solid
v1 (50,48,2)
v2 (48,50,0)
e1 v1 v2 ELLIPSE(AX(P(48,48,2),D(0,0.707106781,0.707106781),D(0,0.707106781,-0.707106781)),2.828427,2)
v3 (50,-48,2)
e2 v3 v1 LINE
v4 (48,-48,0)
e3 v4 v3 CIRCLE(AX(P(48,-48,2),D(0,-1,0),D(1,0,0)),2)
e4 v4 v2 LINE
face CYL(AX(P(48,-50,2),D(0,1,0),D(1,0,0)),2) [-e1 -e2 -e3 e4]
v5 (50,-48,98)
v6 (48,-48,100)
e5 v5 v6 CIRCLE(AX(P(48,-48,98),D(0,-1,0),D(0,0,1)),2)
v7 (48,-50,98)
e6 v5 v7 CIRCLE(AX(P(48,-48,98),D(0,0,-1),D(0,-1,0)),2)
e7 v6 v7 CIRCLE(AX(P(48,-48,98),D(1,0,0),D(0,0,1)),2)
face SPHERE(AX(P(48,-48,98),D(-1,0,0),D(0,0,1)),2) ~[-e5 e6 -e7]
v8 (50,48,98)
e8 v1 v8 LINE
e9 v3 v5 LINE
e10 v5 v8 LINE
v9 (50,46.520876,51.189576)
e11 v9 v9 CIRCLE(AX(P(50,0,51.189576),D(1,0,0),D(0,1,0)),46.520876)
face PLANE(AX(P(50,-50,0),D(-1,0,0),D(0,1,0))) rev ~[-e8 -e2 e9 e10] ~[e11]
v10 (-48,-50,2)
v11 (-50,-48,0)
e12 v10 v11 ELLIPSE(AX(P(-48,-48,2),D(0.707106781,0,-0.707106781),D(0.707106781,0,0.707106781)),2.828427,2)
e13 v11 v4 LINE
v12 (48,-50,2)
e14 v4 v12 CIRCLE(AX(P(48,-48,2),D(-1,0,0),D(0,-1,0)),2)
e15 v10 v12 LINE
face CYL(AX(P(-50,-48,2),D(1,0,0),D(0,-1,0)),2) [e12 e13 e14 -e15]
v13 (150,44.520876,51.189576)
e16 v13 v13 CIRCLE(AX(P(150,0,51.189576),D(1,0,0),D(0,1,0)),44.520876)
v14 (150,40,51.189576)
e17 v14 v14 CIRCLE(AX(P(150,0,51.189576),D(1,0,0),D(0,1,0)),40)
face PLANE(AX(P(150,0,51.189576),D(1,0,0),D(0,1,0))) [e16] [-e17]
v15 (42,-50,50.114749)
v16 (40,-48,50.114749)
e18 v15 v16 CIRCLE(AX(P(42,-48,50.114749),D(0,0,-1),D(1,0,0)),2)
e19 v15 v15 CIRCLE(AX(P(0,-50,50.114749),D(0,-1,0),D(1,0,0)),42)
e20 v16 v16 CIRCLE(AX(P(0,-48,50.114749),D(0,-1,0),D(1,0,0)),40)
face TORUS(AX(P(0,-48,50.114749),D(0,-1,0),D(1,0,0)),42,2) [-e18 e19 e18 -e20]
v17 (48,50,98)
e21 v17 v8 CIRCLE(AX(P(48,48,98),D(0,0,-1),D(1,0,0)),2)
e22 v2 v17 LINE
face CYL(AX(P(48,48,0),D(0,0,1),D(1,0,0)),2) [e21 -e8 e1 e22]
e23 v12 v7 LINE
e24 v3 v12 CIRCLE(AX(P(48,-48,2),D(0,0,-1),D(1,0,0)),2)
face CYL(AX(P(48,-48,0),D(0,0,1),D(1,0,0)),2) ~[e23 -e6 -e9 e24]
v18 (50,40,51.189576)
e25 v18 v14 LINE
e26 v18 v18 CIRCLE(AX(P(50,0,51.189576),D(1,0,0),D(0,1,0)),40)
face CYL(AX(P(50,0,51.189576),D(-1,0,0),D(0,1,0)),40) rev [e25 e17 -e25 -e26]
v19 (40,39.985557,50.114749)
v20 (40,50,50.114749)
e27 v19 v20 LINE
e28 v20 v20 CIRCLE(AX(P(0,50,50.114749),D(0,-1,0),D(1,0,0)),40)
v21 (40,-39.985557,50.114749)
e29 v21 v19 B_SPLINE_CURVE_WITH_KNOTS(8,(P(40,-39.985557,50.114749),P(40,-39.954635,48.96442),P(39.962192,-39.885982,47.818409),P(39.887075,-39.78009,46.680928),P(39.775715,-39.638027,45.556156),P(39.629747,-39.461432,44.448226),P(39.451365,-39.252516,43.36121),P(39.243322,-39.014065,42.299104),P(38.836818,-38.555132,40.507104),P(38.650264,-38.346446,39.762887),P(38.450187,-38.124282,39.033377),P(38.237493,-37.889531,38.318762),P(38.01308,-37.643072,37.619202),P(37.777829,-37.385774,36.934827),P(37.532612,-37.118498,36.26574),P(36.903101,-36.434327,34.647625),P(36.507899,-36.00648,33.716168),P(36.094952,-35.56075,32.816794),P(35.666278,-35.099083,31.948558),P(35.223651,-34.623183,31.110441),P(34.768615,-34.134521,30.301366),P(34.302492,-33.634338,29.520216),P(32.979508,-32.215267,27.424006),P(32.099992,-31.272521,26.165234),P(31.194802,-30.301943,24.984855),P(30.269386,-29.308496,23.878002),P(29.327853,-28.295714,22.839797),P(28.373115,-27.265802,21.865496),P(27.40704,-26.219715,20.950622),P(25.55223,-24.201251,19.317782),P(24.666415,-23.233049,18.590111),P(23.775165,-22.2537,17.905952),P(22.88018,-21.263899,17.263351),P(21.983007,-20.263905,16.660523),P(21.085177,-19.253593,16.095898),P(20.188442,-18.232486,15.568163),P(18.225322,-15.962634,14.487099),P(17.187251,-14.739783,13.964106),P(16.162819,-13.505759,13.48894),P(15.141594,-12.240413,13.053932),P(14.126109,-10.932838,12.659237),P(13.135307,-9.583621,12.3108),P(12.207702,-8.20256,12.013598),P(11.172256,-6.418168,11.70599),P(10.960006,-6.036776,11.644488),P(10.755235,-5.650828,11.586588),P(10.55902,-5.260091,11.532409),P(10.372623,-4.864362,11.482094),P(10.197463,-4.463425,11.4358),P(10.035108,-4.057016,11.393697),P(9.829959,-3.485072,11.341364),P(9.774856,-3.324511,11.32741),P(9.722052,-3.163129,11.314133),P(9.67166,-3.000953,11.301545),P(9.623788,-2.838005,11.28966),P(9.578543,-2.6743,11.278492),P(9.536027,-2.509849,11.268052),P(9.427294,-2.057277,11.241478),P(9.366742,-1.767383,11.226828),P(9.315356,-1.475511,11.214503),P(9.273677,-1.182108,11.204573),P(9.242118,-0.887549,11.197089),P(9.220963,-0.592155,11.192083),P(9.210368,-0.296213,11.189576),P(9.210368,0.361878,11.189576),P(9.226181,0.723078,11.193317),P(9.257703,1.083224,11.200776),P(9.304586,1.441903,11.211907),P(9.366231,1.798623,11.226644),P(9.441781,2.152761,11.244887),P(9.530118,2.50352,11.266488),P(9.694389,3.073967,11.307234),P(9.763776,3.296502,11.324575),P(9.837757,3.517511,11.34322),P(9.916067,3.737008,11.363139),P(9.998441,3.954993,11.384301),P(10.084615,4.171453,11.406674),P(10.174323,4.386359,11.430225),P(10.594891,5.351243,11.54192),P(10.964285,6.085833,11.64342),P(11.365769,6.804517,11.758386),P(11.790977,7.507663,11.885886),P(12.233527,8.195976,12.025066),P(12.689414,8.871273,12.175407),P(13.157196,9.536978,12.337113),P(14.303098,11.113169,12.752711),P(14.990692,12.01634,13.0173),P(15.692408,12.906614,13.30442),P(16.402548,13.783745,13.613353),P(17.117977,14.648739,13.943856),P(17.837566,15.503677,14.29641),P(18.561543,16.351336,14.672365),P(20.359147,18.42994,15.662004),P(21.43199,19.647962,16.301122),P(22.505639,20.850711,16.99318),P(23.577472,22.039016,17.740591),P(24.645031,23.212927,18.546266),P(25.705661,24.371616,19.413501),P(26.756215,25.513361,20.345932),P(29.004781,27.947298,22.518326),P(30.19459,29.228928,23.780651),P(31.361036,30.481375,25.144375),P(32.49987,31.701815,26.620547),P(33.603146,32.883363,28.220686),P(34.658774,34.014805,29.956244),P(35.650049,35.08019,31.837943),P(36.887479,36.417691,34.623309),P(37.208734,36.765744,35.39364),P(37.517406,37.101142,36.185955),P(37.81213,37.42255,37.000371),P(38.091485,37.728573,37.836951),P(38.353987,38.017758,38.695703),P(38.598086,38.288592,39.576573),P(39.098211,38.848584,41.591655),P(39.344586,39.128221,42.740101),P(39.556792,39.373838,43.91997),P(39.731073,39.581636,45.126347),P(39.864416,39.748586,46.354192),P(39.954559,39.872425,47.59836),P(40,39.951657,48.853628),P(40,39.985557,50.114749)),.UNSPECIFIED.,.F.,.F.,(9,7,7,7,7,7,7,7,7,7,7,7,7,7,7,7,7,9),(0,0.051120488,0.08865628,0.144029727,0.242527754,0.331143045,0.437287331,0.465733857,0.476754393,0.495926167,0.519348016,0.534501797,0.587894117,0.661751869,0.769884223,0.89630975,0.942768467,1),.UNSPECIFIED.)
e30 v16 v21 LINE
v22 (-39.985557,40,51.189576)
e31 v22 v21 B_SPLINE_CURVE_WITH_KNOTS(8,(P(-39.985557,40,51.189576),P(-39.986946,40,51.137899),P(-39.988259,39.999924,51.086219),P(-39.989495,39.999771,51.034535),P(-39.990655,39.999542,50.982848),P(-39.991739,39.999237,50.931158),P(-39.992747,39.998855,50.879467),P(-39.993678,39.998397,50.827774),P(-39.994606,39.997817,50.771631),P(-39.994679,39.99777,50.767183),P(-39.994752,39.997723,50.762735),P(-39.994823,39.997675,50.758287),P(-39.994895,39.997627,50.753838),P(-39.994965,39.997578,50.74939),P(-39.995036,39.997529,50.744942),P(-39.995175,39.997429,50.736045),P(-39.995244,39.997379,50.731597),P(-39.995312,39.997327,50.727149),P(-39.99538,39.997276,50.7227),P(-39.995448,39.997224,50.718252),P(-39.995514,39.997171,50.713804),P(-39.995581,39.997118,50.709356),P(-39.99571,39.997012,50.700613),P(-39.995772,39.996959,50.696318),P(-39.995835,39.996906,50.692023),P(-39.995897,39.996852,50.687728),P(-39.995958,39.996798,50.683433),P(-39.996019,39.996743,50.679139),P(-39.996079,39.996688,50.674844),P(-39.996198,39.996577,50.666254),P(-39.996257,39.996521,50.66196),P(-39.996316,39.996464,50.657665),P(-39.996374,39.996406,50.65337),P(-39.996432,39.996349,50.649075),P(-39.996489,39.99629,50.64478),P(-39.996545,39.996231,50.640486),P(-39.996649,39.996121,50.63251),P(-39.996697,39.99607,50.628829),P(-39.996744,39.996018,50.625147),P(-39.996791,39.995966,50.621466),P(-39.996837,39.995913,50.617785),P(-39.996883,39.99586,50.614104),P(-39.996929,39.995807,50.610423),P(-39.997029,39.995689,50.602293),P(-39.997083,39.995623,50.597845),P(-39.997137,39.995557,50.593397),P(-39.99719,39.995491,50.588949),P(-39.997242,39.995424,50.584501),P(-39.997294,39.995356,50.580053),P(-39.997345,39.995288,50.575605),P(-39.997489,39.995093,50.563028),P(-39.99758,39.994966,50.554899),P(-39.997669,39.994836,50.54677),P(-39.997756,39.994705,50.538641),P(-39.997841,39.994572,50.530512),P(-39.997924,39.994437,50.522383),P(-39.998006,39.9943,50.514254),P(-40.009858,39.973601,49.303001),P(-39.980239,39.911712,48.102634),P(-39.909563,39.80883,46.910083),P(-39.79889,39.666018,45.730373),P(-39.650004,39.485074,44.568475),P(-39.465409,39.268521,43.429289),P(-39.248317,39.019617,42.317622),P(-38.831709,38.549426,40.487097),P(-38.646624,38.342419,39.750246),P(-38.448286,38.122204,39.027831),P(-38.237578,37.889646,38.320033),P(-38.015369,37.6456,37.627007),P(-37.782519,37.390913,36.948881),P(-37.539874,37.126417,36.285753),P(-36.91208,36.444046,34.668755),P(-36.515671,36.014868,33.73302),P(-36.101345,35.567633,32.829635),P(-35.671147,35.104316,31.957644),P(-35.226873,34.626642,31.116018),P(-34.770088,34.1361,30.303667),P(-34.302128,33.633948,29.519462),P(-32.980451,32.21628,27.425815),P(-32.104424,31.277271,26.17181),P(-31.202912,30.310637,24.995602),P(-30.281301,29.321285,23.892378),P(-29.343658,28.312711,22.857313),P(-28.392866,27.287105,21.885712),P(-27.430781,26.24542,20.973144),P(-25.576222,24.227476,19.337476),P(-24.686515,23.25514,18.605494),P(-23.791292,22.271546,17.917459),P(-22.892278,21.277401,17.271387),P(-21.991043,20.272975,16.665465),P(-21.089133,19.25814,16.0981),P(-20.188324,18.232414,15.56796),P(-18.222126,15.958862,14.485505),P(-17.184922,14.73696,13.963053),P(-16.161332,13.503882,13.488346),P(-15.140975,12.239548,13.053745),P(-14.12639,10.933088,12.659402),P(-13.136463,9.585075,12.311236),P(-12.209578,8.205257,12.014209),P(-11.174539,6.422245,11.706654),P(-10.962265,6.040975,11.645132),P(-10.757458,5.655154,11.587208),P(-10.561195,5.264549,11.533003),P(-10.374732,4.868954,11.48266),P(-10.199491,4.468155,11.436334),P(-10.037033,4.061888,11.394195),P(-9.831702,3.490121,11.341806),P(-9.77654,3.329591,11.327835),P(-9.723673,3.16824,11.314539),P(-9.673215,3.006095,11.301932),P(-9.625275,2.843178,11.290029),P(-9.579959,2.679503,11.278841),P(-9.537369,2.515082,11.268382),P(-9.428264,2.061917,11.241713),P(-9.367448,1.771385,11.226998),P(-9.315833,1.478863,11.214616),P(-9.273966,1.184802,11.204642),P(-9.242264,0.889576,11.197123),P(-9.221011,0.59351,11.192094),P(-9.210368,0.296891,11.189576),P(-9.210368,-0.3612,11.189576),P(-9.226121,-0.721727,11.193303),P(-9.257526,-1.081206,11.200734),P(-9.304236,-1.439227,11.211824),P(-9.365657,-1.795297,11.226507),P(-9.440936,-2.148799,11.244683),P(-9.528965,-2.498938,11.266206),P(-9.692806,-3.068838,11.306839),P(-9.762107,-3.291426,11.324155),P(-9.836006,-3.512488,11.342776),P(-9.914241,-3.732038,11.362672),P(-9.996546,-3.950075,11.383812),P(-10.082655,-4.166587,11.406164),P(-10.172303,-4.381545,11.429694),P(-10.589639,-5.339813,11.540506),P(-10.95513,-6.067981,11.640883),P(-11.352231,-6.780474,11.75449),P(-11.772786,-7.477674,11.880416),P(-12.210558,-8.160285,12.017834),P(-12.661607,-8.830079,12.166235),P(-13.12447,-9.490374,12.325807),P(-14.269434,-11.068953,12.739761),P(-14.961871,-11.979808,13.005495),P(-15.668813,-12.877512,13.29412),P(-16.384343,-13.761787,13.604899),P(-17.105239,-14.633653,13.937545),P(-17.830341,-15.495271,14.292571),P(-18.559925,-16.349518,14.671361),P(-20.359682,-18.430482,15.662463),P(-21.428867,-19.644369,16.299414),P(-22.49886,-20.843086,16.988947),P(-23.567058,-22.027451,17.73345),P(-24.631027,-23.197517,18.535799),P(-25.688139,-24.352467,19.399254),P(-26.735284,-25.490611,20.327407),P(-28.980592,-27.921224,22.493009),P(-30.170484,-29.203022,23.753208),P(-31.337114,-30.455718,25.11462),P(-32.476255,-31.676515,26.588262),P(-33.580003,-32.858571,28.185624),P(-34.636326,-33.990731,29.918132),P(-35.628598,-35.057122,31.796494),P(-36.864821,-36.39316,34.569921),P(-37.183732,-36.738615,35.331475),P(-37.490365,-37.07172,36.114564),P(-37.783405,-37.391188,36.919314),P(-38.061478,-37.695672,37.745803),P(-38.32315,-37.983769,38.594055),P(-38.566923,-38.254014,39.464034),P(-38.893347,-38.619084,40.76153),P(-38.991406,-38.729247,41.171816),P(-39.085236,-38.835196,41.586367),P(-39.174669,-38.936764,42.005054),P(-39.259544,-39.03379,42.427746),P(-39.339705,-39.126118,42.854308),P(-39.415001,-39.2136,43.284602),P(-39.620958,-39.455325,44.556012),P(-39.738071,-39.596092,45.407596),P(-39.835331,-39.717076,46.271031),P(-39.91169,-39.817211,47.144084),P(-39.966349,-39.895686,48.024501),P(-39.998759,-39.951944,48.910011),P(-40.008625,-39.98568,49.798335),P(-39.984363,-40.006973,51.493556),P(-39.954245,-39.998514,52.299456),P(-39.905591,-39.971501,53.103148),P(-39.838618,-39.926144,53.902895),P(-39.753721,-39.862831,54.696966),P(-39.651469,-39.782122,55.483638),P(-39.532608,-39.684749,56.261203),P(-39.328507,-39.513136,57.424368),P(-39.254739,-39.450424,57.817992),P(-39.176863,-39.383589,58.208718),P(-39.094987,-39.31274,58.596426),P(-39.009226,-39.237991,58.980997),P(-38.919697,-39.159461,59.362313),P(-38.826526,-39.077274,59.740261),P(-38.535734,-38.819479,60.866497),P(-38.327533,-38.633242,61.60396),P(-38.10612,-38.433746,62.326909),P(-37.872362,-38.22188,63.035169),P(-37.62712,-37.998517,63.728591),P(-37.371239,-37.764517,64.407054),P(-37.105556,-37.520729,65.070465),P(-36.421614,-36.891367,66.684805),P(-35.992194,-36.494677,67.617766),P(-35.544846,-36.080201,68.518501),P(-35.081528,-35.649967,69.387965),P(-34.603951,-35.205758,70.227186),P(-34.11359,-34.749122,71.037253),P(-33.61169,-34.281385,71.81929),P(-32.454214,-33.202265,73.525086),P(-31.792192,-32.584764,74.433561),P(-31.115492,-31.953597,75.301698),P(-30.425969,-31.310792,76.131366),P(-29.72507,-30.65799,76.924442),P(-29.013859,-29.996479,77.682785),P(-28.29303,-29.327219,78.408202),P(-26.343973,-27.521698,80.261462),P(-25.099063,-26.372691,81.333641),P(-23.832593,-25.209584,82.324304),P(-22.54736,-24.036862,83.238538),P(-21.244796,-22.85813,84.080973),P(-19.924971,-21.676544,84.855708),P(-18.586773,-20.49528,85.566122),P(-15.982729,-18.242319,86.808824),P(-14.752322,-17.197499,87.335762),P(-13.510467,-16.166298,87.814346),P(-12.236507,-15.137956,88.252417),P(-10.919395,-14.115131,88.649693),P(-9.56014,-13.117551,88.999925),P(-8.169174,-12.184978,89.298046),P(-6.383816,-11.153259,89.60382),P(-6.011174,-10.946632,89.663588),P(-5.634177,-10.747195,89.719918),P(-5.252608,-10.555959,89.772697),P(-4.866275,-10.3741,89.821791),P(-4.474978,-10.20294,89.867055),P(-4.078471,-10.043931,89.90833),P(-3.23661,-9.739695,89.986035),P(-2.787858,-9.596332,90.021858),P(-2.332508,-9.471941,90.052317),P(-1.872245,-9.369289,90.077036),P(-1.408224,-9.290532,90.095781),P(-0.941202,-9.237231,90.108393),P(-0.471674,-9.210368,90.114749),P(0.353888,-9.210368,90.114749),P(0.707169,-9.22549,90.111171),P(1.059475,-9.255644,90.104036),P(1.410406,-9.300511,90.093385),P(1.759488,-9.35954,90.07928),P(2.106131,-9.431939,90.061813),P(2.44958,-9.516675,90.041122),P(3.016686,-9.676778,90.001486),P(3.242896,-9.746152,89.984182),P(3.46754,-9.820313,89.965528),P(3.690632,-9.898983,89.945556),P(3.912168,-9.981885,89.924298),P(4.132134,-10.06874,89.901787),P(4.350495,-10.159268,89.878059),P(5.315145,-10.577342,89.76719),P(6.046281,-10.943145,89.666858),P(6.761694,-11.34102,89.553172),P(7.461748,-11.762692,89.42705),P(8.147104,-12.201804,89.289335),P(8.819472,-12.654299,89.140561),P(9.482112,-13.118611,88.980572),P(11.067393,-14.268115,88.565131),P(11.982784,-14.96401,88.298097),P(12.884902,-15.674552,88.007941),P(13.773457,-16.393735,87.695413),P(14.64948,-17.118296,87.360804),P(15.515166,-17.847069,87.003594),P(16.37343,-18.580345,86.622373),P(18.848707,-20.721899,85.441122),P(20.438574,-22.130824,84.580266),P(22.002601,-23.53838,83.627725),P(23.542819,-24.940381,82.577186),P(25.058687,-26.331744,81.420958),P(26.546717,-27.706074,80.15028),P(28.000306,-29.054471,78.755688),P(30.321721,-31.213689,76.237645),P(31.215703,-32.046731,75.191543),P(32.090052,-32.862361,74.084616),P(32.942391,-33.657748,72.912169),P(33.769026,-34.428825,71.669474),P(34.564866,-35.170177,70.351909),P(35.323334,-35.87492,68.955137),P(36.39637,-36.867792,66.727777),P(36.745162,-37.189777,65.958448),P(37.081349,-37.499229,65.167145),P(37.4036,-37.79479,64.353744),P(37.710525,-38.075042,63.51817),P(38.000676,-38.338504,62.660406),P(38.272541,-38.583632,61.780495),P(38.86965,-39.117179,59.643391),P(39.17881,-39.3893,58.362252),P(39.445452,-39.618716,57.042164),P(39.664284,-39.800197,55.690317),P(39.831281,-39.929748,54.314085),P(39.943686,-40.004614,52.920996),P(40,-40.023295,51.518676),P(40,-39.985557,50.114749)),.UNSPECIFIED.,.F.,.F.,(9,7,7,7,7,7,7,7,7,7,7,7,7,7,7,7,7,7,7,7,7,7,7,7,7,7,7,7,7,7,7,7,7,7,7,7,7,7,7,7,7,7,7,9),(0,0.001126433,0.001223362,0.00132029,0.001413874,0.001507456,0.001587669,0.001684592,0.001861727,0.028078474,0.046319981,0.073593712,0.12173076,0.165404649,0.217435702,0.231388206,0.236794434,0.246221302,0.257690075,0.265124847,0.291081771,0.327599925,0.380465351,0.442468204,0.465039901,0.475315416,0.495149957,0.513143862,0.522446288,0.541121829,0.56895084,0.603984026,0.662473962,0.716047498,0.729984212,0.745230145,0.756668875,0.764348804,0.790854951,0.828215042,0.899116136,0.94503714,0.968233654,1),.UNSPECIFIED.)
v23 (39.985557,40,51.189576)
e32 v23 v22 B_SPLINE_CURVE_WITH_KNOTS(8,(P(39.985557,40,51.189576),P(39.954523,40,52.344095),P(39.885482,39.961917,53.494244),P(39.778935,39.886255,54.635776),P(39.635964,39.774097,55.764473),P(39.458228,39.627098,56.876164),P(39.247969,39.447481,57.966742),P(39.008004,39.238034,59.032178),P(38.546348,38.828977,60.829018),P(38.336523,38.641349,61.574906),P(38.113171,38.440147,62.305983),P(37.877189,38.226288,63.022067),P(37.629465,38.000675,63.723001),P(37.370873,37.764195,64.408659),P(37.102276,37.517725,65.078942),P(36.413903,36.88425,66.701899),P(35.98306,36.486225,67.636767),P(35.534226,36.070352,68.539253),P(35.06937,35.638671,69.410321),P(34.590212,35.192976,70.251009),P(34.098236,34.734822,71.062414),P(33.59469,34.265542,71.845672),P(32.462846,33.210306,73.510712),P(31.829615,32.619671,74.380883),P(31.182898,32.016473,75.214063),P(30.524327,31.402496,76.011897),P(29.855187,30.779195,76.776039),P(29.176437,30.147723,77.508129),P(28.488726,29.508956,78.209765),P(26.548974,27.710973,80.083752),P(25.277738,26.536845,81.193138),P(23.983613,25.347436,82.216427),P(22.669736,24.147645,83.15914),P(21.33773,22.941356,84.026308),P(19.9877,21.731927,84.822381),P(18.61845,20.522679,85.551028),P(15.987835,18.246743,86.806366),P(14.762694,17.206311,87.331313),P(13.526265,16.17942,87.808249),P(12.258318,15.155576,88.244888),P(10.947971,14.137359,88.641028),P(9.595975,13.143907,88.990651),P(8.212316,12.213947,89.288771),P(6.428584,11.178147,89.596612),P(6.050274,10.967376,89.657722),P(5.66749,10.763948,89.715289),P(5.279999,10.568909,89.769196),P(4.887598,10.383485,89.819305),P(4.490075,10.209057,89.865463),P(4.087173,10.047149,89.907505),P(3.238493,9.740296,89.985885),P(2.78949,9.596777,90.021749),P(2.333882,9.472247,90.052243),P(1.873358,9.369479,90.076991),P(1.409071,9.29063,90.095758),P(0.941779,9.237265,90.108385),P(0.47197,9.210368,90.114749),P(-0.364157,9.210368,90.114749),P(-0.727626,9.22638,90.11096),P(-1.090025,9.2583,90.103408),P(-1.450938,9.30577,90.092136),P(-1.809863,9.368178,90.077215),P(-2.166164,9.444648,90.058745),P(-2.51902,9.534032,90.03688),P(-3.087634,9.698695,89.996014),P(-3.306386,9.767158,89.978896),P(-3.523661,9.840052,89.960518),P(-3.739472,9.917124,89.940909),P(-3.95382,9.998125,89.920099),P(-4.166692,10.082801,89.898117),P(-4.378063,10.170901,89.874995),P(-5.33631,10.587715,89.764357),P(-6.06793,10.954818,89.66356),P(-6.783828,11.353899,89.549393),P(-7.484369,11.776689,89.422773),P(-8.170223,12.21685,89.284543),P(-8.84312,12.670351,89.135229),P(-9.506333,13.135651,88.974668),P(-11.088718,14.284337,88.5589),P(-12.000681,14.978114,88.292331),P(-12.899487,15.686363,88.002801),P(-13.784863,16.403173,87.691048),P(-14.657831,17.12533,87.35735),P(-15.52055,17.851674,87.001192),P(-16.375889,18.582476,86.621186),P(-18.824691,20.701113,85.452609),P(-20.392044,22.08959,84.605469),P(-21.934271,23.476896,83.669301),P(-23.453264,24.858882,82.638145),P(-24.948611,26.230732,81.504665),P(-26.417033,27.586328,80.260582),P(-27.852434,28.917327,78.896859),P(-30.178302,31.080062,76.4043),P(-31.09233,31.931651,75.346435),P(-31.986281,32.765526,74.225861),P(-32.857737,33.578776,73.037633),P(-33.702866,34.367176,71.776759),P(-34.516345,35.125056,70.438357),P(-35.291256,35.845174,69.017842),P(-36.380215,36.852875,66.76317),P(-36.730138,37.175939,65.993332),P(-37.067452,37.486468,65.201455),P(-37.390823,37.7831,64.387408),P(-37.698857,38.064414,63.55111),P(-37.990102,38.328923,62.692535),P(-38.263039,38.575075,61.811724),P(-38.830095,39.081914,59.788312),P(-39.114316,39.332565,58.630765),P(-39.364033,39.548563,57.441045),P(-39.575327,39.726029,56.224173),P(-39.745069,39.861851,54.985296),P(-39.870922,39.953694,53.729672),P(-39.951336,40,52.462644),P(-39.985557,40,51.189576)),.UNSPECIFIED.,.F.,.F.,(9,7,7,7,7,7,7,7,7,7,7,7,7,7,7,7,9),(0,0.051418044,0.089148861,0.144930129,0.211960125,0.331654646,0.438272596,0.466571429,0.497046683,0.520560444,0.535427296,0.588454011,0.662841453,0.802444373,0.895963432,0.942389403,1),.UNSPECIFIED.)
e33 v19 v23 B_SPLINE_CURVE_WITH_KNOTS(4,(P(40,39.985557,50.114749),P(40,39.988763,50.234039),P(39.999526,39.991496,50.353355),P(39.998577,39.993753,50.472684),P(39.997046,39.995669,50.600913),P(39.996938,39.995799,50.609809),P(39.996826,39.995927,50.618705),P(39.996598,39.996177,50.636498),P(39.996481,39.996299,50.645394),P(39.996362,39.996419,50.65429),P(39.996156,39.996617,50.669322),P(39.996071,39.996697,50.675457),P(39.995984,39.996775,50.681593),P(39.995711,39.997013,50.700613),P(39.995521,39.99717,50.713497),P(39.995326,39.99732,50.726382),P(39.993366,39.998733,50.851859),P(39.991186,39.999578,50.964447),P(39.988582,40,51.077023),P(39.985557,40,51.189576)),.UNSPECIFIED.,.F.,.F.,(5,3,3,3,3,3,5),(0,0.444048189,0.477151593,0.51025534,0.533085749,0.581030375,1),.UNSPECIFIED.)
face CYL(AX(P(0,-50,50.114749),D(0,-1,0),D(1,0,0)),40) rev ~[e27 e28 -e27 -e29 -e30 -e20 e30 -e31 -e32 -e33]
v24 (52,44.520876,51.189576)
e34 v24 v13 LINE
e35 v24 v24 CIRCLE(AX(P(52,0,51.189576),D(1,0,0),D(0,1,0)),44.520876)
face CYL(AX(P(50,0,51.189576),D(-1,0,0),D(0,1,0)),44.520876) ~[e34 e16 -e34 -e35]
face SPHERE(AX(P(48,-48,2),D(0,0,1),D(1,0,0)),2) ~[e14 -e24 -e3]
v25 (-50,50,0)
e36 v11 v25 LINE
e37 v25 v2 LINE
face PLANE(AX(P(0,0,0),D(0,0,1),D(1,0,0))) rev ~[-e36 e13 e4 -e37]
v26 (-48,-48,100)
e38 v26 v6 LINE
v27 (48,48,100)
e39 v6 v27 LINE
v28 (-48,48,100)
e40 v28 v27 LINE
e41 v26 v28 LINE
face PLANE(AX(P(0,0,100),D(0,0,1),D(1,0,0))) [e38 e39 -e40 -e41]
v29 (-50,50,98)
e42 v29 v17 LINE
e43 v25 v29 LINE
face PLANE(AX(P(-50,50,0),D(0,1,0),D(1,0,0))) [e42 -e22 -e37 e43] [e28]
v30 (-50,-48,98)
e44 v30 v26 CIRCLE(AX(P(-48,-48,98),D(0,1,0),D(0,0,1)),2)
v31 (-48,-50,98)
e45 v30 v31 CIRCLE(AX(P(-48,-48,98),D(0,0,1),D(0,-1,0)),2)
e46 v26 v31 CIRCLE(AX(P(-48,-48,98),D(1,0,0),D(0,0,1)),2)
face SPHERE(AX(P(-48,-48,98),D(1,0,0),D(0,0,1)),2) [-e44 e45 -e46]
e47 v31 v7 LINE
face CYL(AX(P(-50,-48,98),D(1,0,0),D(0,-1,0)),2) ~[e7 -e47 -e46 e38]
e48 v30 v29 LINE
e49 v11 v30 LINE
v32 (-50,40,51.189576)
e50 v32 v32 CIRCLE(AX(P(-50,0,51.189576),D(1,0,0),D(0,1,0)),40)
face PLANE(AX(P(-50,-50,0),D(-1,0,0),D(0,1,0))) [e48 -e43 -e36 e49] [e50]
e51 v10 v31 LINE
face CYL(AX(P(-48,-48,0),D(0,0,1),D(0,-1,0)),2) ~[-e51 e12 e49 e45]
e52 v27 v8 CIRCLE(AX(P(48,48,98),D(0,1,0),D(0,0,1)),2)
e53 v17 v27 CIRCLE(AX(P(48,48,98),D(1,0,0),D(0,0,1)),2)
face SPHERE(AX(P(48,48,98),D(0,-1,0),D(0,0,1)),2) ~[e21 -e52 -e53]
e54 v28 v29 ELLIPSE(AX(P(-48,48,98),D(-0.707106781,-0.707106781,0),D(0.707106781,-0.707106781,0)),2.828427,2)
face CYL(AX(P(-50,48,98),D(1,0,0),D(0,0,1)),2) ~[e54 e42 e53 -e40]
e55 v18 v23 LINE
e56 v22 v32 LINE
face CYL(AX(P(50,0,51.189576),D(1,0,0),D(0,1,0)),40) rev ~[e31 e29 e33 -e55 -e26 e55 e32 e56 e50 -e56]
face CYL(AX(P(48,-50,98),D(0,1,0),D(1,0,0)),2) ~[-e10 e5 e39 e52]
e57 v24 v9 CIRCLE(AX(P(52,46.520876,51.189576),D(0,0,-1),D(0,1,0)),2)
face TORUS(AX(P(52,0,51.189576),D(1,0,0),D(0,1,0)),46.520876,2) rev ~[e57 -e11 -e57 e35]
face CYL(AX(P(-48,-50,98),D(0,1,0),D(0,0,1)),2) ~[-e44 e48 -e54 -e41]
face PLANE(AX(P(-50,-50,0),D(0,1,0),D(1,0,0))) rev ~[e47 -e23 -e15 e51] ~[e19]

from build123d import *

# Parameters (mm, degrees)
F0_W     = 100
F0_H     = 100
F1_DEPTH = 100
F2_R     = 40
F3_DEPTH = 100.001
F4_R     = 40
F5_DEPTH = 100.001
F2_R_2   = 44.5208759626
F6_DEPTH = 100
F7_R     = 2


with BuildPart() as f1:
    # F0 (on Top) → F1 (new body)
    with BuildSketch(Plane.XY):
        Rectangle(F0_W, F0_H)
    extrude(amount=F1_DEPTH)

    # F2 (on face) → F3 (cut, through all)
    with BuildSketch(Plane.YZ.offset(50)):
        with Locations((0, 51.1895758084)):
            Circle(F2_R)
    extrude(amount=-F3_DEPTH, mode=Mode.SUBTRACT)

    # F4 (on face) → F5 (cut, through all)
    with BuildSketch(Plane.XZ.offset(50)):
        with Locations((0, 50.114749205)):
            Circle(F4_R)
    extrude(amount=-F5_DEPTH, mode=Mode.SUBTRACT)

    # F2 (on face) → F6 (join)
    with BuildSketch(Plane.YZ.offset(50)):
        with Locations((0, 51.1895758084)):
            Circle(F2_R_2)
        with Locations((0, 51.1895758084)):
            Circle(F2_R, mode=Mode.SUBTRACT)
    extrude(amount=F6_DEPTH)

    # F7
    f7_edges = [f1.edges().sort_by_distance(p)[0] for p in [
        (0, -50, 100),
        (50, 0, 100),
        (0, 50, 100),
        (-50, 0, 100),
        (50, -50, 50),
        (50, 0, 0),
        (50, 50, 50),
        (50, -44.520876, 51.189576),
        (-50, -50, 50),
        (0, -50, 0),
        (-40, -50, 50.114749),
    ]]
    fillet(f7_edges, radius=F7_R)


solid = f1.part
